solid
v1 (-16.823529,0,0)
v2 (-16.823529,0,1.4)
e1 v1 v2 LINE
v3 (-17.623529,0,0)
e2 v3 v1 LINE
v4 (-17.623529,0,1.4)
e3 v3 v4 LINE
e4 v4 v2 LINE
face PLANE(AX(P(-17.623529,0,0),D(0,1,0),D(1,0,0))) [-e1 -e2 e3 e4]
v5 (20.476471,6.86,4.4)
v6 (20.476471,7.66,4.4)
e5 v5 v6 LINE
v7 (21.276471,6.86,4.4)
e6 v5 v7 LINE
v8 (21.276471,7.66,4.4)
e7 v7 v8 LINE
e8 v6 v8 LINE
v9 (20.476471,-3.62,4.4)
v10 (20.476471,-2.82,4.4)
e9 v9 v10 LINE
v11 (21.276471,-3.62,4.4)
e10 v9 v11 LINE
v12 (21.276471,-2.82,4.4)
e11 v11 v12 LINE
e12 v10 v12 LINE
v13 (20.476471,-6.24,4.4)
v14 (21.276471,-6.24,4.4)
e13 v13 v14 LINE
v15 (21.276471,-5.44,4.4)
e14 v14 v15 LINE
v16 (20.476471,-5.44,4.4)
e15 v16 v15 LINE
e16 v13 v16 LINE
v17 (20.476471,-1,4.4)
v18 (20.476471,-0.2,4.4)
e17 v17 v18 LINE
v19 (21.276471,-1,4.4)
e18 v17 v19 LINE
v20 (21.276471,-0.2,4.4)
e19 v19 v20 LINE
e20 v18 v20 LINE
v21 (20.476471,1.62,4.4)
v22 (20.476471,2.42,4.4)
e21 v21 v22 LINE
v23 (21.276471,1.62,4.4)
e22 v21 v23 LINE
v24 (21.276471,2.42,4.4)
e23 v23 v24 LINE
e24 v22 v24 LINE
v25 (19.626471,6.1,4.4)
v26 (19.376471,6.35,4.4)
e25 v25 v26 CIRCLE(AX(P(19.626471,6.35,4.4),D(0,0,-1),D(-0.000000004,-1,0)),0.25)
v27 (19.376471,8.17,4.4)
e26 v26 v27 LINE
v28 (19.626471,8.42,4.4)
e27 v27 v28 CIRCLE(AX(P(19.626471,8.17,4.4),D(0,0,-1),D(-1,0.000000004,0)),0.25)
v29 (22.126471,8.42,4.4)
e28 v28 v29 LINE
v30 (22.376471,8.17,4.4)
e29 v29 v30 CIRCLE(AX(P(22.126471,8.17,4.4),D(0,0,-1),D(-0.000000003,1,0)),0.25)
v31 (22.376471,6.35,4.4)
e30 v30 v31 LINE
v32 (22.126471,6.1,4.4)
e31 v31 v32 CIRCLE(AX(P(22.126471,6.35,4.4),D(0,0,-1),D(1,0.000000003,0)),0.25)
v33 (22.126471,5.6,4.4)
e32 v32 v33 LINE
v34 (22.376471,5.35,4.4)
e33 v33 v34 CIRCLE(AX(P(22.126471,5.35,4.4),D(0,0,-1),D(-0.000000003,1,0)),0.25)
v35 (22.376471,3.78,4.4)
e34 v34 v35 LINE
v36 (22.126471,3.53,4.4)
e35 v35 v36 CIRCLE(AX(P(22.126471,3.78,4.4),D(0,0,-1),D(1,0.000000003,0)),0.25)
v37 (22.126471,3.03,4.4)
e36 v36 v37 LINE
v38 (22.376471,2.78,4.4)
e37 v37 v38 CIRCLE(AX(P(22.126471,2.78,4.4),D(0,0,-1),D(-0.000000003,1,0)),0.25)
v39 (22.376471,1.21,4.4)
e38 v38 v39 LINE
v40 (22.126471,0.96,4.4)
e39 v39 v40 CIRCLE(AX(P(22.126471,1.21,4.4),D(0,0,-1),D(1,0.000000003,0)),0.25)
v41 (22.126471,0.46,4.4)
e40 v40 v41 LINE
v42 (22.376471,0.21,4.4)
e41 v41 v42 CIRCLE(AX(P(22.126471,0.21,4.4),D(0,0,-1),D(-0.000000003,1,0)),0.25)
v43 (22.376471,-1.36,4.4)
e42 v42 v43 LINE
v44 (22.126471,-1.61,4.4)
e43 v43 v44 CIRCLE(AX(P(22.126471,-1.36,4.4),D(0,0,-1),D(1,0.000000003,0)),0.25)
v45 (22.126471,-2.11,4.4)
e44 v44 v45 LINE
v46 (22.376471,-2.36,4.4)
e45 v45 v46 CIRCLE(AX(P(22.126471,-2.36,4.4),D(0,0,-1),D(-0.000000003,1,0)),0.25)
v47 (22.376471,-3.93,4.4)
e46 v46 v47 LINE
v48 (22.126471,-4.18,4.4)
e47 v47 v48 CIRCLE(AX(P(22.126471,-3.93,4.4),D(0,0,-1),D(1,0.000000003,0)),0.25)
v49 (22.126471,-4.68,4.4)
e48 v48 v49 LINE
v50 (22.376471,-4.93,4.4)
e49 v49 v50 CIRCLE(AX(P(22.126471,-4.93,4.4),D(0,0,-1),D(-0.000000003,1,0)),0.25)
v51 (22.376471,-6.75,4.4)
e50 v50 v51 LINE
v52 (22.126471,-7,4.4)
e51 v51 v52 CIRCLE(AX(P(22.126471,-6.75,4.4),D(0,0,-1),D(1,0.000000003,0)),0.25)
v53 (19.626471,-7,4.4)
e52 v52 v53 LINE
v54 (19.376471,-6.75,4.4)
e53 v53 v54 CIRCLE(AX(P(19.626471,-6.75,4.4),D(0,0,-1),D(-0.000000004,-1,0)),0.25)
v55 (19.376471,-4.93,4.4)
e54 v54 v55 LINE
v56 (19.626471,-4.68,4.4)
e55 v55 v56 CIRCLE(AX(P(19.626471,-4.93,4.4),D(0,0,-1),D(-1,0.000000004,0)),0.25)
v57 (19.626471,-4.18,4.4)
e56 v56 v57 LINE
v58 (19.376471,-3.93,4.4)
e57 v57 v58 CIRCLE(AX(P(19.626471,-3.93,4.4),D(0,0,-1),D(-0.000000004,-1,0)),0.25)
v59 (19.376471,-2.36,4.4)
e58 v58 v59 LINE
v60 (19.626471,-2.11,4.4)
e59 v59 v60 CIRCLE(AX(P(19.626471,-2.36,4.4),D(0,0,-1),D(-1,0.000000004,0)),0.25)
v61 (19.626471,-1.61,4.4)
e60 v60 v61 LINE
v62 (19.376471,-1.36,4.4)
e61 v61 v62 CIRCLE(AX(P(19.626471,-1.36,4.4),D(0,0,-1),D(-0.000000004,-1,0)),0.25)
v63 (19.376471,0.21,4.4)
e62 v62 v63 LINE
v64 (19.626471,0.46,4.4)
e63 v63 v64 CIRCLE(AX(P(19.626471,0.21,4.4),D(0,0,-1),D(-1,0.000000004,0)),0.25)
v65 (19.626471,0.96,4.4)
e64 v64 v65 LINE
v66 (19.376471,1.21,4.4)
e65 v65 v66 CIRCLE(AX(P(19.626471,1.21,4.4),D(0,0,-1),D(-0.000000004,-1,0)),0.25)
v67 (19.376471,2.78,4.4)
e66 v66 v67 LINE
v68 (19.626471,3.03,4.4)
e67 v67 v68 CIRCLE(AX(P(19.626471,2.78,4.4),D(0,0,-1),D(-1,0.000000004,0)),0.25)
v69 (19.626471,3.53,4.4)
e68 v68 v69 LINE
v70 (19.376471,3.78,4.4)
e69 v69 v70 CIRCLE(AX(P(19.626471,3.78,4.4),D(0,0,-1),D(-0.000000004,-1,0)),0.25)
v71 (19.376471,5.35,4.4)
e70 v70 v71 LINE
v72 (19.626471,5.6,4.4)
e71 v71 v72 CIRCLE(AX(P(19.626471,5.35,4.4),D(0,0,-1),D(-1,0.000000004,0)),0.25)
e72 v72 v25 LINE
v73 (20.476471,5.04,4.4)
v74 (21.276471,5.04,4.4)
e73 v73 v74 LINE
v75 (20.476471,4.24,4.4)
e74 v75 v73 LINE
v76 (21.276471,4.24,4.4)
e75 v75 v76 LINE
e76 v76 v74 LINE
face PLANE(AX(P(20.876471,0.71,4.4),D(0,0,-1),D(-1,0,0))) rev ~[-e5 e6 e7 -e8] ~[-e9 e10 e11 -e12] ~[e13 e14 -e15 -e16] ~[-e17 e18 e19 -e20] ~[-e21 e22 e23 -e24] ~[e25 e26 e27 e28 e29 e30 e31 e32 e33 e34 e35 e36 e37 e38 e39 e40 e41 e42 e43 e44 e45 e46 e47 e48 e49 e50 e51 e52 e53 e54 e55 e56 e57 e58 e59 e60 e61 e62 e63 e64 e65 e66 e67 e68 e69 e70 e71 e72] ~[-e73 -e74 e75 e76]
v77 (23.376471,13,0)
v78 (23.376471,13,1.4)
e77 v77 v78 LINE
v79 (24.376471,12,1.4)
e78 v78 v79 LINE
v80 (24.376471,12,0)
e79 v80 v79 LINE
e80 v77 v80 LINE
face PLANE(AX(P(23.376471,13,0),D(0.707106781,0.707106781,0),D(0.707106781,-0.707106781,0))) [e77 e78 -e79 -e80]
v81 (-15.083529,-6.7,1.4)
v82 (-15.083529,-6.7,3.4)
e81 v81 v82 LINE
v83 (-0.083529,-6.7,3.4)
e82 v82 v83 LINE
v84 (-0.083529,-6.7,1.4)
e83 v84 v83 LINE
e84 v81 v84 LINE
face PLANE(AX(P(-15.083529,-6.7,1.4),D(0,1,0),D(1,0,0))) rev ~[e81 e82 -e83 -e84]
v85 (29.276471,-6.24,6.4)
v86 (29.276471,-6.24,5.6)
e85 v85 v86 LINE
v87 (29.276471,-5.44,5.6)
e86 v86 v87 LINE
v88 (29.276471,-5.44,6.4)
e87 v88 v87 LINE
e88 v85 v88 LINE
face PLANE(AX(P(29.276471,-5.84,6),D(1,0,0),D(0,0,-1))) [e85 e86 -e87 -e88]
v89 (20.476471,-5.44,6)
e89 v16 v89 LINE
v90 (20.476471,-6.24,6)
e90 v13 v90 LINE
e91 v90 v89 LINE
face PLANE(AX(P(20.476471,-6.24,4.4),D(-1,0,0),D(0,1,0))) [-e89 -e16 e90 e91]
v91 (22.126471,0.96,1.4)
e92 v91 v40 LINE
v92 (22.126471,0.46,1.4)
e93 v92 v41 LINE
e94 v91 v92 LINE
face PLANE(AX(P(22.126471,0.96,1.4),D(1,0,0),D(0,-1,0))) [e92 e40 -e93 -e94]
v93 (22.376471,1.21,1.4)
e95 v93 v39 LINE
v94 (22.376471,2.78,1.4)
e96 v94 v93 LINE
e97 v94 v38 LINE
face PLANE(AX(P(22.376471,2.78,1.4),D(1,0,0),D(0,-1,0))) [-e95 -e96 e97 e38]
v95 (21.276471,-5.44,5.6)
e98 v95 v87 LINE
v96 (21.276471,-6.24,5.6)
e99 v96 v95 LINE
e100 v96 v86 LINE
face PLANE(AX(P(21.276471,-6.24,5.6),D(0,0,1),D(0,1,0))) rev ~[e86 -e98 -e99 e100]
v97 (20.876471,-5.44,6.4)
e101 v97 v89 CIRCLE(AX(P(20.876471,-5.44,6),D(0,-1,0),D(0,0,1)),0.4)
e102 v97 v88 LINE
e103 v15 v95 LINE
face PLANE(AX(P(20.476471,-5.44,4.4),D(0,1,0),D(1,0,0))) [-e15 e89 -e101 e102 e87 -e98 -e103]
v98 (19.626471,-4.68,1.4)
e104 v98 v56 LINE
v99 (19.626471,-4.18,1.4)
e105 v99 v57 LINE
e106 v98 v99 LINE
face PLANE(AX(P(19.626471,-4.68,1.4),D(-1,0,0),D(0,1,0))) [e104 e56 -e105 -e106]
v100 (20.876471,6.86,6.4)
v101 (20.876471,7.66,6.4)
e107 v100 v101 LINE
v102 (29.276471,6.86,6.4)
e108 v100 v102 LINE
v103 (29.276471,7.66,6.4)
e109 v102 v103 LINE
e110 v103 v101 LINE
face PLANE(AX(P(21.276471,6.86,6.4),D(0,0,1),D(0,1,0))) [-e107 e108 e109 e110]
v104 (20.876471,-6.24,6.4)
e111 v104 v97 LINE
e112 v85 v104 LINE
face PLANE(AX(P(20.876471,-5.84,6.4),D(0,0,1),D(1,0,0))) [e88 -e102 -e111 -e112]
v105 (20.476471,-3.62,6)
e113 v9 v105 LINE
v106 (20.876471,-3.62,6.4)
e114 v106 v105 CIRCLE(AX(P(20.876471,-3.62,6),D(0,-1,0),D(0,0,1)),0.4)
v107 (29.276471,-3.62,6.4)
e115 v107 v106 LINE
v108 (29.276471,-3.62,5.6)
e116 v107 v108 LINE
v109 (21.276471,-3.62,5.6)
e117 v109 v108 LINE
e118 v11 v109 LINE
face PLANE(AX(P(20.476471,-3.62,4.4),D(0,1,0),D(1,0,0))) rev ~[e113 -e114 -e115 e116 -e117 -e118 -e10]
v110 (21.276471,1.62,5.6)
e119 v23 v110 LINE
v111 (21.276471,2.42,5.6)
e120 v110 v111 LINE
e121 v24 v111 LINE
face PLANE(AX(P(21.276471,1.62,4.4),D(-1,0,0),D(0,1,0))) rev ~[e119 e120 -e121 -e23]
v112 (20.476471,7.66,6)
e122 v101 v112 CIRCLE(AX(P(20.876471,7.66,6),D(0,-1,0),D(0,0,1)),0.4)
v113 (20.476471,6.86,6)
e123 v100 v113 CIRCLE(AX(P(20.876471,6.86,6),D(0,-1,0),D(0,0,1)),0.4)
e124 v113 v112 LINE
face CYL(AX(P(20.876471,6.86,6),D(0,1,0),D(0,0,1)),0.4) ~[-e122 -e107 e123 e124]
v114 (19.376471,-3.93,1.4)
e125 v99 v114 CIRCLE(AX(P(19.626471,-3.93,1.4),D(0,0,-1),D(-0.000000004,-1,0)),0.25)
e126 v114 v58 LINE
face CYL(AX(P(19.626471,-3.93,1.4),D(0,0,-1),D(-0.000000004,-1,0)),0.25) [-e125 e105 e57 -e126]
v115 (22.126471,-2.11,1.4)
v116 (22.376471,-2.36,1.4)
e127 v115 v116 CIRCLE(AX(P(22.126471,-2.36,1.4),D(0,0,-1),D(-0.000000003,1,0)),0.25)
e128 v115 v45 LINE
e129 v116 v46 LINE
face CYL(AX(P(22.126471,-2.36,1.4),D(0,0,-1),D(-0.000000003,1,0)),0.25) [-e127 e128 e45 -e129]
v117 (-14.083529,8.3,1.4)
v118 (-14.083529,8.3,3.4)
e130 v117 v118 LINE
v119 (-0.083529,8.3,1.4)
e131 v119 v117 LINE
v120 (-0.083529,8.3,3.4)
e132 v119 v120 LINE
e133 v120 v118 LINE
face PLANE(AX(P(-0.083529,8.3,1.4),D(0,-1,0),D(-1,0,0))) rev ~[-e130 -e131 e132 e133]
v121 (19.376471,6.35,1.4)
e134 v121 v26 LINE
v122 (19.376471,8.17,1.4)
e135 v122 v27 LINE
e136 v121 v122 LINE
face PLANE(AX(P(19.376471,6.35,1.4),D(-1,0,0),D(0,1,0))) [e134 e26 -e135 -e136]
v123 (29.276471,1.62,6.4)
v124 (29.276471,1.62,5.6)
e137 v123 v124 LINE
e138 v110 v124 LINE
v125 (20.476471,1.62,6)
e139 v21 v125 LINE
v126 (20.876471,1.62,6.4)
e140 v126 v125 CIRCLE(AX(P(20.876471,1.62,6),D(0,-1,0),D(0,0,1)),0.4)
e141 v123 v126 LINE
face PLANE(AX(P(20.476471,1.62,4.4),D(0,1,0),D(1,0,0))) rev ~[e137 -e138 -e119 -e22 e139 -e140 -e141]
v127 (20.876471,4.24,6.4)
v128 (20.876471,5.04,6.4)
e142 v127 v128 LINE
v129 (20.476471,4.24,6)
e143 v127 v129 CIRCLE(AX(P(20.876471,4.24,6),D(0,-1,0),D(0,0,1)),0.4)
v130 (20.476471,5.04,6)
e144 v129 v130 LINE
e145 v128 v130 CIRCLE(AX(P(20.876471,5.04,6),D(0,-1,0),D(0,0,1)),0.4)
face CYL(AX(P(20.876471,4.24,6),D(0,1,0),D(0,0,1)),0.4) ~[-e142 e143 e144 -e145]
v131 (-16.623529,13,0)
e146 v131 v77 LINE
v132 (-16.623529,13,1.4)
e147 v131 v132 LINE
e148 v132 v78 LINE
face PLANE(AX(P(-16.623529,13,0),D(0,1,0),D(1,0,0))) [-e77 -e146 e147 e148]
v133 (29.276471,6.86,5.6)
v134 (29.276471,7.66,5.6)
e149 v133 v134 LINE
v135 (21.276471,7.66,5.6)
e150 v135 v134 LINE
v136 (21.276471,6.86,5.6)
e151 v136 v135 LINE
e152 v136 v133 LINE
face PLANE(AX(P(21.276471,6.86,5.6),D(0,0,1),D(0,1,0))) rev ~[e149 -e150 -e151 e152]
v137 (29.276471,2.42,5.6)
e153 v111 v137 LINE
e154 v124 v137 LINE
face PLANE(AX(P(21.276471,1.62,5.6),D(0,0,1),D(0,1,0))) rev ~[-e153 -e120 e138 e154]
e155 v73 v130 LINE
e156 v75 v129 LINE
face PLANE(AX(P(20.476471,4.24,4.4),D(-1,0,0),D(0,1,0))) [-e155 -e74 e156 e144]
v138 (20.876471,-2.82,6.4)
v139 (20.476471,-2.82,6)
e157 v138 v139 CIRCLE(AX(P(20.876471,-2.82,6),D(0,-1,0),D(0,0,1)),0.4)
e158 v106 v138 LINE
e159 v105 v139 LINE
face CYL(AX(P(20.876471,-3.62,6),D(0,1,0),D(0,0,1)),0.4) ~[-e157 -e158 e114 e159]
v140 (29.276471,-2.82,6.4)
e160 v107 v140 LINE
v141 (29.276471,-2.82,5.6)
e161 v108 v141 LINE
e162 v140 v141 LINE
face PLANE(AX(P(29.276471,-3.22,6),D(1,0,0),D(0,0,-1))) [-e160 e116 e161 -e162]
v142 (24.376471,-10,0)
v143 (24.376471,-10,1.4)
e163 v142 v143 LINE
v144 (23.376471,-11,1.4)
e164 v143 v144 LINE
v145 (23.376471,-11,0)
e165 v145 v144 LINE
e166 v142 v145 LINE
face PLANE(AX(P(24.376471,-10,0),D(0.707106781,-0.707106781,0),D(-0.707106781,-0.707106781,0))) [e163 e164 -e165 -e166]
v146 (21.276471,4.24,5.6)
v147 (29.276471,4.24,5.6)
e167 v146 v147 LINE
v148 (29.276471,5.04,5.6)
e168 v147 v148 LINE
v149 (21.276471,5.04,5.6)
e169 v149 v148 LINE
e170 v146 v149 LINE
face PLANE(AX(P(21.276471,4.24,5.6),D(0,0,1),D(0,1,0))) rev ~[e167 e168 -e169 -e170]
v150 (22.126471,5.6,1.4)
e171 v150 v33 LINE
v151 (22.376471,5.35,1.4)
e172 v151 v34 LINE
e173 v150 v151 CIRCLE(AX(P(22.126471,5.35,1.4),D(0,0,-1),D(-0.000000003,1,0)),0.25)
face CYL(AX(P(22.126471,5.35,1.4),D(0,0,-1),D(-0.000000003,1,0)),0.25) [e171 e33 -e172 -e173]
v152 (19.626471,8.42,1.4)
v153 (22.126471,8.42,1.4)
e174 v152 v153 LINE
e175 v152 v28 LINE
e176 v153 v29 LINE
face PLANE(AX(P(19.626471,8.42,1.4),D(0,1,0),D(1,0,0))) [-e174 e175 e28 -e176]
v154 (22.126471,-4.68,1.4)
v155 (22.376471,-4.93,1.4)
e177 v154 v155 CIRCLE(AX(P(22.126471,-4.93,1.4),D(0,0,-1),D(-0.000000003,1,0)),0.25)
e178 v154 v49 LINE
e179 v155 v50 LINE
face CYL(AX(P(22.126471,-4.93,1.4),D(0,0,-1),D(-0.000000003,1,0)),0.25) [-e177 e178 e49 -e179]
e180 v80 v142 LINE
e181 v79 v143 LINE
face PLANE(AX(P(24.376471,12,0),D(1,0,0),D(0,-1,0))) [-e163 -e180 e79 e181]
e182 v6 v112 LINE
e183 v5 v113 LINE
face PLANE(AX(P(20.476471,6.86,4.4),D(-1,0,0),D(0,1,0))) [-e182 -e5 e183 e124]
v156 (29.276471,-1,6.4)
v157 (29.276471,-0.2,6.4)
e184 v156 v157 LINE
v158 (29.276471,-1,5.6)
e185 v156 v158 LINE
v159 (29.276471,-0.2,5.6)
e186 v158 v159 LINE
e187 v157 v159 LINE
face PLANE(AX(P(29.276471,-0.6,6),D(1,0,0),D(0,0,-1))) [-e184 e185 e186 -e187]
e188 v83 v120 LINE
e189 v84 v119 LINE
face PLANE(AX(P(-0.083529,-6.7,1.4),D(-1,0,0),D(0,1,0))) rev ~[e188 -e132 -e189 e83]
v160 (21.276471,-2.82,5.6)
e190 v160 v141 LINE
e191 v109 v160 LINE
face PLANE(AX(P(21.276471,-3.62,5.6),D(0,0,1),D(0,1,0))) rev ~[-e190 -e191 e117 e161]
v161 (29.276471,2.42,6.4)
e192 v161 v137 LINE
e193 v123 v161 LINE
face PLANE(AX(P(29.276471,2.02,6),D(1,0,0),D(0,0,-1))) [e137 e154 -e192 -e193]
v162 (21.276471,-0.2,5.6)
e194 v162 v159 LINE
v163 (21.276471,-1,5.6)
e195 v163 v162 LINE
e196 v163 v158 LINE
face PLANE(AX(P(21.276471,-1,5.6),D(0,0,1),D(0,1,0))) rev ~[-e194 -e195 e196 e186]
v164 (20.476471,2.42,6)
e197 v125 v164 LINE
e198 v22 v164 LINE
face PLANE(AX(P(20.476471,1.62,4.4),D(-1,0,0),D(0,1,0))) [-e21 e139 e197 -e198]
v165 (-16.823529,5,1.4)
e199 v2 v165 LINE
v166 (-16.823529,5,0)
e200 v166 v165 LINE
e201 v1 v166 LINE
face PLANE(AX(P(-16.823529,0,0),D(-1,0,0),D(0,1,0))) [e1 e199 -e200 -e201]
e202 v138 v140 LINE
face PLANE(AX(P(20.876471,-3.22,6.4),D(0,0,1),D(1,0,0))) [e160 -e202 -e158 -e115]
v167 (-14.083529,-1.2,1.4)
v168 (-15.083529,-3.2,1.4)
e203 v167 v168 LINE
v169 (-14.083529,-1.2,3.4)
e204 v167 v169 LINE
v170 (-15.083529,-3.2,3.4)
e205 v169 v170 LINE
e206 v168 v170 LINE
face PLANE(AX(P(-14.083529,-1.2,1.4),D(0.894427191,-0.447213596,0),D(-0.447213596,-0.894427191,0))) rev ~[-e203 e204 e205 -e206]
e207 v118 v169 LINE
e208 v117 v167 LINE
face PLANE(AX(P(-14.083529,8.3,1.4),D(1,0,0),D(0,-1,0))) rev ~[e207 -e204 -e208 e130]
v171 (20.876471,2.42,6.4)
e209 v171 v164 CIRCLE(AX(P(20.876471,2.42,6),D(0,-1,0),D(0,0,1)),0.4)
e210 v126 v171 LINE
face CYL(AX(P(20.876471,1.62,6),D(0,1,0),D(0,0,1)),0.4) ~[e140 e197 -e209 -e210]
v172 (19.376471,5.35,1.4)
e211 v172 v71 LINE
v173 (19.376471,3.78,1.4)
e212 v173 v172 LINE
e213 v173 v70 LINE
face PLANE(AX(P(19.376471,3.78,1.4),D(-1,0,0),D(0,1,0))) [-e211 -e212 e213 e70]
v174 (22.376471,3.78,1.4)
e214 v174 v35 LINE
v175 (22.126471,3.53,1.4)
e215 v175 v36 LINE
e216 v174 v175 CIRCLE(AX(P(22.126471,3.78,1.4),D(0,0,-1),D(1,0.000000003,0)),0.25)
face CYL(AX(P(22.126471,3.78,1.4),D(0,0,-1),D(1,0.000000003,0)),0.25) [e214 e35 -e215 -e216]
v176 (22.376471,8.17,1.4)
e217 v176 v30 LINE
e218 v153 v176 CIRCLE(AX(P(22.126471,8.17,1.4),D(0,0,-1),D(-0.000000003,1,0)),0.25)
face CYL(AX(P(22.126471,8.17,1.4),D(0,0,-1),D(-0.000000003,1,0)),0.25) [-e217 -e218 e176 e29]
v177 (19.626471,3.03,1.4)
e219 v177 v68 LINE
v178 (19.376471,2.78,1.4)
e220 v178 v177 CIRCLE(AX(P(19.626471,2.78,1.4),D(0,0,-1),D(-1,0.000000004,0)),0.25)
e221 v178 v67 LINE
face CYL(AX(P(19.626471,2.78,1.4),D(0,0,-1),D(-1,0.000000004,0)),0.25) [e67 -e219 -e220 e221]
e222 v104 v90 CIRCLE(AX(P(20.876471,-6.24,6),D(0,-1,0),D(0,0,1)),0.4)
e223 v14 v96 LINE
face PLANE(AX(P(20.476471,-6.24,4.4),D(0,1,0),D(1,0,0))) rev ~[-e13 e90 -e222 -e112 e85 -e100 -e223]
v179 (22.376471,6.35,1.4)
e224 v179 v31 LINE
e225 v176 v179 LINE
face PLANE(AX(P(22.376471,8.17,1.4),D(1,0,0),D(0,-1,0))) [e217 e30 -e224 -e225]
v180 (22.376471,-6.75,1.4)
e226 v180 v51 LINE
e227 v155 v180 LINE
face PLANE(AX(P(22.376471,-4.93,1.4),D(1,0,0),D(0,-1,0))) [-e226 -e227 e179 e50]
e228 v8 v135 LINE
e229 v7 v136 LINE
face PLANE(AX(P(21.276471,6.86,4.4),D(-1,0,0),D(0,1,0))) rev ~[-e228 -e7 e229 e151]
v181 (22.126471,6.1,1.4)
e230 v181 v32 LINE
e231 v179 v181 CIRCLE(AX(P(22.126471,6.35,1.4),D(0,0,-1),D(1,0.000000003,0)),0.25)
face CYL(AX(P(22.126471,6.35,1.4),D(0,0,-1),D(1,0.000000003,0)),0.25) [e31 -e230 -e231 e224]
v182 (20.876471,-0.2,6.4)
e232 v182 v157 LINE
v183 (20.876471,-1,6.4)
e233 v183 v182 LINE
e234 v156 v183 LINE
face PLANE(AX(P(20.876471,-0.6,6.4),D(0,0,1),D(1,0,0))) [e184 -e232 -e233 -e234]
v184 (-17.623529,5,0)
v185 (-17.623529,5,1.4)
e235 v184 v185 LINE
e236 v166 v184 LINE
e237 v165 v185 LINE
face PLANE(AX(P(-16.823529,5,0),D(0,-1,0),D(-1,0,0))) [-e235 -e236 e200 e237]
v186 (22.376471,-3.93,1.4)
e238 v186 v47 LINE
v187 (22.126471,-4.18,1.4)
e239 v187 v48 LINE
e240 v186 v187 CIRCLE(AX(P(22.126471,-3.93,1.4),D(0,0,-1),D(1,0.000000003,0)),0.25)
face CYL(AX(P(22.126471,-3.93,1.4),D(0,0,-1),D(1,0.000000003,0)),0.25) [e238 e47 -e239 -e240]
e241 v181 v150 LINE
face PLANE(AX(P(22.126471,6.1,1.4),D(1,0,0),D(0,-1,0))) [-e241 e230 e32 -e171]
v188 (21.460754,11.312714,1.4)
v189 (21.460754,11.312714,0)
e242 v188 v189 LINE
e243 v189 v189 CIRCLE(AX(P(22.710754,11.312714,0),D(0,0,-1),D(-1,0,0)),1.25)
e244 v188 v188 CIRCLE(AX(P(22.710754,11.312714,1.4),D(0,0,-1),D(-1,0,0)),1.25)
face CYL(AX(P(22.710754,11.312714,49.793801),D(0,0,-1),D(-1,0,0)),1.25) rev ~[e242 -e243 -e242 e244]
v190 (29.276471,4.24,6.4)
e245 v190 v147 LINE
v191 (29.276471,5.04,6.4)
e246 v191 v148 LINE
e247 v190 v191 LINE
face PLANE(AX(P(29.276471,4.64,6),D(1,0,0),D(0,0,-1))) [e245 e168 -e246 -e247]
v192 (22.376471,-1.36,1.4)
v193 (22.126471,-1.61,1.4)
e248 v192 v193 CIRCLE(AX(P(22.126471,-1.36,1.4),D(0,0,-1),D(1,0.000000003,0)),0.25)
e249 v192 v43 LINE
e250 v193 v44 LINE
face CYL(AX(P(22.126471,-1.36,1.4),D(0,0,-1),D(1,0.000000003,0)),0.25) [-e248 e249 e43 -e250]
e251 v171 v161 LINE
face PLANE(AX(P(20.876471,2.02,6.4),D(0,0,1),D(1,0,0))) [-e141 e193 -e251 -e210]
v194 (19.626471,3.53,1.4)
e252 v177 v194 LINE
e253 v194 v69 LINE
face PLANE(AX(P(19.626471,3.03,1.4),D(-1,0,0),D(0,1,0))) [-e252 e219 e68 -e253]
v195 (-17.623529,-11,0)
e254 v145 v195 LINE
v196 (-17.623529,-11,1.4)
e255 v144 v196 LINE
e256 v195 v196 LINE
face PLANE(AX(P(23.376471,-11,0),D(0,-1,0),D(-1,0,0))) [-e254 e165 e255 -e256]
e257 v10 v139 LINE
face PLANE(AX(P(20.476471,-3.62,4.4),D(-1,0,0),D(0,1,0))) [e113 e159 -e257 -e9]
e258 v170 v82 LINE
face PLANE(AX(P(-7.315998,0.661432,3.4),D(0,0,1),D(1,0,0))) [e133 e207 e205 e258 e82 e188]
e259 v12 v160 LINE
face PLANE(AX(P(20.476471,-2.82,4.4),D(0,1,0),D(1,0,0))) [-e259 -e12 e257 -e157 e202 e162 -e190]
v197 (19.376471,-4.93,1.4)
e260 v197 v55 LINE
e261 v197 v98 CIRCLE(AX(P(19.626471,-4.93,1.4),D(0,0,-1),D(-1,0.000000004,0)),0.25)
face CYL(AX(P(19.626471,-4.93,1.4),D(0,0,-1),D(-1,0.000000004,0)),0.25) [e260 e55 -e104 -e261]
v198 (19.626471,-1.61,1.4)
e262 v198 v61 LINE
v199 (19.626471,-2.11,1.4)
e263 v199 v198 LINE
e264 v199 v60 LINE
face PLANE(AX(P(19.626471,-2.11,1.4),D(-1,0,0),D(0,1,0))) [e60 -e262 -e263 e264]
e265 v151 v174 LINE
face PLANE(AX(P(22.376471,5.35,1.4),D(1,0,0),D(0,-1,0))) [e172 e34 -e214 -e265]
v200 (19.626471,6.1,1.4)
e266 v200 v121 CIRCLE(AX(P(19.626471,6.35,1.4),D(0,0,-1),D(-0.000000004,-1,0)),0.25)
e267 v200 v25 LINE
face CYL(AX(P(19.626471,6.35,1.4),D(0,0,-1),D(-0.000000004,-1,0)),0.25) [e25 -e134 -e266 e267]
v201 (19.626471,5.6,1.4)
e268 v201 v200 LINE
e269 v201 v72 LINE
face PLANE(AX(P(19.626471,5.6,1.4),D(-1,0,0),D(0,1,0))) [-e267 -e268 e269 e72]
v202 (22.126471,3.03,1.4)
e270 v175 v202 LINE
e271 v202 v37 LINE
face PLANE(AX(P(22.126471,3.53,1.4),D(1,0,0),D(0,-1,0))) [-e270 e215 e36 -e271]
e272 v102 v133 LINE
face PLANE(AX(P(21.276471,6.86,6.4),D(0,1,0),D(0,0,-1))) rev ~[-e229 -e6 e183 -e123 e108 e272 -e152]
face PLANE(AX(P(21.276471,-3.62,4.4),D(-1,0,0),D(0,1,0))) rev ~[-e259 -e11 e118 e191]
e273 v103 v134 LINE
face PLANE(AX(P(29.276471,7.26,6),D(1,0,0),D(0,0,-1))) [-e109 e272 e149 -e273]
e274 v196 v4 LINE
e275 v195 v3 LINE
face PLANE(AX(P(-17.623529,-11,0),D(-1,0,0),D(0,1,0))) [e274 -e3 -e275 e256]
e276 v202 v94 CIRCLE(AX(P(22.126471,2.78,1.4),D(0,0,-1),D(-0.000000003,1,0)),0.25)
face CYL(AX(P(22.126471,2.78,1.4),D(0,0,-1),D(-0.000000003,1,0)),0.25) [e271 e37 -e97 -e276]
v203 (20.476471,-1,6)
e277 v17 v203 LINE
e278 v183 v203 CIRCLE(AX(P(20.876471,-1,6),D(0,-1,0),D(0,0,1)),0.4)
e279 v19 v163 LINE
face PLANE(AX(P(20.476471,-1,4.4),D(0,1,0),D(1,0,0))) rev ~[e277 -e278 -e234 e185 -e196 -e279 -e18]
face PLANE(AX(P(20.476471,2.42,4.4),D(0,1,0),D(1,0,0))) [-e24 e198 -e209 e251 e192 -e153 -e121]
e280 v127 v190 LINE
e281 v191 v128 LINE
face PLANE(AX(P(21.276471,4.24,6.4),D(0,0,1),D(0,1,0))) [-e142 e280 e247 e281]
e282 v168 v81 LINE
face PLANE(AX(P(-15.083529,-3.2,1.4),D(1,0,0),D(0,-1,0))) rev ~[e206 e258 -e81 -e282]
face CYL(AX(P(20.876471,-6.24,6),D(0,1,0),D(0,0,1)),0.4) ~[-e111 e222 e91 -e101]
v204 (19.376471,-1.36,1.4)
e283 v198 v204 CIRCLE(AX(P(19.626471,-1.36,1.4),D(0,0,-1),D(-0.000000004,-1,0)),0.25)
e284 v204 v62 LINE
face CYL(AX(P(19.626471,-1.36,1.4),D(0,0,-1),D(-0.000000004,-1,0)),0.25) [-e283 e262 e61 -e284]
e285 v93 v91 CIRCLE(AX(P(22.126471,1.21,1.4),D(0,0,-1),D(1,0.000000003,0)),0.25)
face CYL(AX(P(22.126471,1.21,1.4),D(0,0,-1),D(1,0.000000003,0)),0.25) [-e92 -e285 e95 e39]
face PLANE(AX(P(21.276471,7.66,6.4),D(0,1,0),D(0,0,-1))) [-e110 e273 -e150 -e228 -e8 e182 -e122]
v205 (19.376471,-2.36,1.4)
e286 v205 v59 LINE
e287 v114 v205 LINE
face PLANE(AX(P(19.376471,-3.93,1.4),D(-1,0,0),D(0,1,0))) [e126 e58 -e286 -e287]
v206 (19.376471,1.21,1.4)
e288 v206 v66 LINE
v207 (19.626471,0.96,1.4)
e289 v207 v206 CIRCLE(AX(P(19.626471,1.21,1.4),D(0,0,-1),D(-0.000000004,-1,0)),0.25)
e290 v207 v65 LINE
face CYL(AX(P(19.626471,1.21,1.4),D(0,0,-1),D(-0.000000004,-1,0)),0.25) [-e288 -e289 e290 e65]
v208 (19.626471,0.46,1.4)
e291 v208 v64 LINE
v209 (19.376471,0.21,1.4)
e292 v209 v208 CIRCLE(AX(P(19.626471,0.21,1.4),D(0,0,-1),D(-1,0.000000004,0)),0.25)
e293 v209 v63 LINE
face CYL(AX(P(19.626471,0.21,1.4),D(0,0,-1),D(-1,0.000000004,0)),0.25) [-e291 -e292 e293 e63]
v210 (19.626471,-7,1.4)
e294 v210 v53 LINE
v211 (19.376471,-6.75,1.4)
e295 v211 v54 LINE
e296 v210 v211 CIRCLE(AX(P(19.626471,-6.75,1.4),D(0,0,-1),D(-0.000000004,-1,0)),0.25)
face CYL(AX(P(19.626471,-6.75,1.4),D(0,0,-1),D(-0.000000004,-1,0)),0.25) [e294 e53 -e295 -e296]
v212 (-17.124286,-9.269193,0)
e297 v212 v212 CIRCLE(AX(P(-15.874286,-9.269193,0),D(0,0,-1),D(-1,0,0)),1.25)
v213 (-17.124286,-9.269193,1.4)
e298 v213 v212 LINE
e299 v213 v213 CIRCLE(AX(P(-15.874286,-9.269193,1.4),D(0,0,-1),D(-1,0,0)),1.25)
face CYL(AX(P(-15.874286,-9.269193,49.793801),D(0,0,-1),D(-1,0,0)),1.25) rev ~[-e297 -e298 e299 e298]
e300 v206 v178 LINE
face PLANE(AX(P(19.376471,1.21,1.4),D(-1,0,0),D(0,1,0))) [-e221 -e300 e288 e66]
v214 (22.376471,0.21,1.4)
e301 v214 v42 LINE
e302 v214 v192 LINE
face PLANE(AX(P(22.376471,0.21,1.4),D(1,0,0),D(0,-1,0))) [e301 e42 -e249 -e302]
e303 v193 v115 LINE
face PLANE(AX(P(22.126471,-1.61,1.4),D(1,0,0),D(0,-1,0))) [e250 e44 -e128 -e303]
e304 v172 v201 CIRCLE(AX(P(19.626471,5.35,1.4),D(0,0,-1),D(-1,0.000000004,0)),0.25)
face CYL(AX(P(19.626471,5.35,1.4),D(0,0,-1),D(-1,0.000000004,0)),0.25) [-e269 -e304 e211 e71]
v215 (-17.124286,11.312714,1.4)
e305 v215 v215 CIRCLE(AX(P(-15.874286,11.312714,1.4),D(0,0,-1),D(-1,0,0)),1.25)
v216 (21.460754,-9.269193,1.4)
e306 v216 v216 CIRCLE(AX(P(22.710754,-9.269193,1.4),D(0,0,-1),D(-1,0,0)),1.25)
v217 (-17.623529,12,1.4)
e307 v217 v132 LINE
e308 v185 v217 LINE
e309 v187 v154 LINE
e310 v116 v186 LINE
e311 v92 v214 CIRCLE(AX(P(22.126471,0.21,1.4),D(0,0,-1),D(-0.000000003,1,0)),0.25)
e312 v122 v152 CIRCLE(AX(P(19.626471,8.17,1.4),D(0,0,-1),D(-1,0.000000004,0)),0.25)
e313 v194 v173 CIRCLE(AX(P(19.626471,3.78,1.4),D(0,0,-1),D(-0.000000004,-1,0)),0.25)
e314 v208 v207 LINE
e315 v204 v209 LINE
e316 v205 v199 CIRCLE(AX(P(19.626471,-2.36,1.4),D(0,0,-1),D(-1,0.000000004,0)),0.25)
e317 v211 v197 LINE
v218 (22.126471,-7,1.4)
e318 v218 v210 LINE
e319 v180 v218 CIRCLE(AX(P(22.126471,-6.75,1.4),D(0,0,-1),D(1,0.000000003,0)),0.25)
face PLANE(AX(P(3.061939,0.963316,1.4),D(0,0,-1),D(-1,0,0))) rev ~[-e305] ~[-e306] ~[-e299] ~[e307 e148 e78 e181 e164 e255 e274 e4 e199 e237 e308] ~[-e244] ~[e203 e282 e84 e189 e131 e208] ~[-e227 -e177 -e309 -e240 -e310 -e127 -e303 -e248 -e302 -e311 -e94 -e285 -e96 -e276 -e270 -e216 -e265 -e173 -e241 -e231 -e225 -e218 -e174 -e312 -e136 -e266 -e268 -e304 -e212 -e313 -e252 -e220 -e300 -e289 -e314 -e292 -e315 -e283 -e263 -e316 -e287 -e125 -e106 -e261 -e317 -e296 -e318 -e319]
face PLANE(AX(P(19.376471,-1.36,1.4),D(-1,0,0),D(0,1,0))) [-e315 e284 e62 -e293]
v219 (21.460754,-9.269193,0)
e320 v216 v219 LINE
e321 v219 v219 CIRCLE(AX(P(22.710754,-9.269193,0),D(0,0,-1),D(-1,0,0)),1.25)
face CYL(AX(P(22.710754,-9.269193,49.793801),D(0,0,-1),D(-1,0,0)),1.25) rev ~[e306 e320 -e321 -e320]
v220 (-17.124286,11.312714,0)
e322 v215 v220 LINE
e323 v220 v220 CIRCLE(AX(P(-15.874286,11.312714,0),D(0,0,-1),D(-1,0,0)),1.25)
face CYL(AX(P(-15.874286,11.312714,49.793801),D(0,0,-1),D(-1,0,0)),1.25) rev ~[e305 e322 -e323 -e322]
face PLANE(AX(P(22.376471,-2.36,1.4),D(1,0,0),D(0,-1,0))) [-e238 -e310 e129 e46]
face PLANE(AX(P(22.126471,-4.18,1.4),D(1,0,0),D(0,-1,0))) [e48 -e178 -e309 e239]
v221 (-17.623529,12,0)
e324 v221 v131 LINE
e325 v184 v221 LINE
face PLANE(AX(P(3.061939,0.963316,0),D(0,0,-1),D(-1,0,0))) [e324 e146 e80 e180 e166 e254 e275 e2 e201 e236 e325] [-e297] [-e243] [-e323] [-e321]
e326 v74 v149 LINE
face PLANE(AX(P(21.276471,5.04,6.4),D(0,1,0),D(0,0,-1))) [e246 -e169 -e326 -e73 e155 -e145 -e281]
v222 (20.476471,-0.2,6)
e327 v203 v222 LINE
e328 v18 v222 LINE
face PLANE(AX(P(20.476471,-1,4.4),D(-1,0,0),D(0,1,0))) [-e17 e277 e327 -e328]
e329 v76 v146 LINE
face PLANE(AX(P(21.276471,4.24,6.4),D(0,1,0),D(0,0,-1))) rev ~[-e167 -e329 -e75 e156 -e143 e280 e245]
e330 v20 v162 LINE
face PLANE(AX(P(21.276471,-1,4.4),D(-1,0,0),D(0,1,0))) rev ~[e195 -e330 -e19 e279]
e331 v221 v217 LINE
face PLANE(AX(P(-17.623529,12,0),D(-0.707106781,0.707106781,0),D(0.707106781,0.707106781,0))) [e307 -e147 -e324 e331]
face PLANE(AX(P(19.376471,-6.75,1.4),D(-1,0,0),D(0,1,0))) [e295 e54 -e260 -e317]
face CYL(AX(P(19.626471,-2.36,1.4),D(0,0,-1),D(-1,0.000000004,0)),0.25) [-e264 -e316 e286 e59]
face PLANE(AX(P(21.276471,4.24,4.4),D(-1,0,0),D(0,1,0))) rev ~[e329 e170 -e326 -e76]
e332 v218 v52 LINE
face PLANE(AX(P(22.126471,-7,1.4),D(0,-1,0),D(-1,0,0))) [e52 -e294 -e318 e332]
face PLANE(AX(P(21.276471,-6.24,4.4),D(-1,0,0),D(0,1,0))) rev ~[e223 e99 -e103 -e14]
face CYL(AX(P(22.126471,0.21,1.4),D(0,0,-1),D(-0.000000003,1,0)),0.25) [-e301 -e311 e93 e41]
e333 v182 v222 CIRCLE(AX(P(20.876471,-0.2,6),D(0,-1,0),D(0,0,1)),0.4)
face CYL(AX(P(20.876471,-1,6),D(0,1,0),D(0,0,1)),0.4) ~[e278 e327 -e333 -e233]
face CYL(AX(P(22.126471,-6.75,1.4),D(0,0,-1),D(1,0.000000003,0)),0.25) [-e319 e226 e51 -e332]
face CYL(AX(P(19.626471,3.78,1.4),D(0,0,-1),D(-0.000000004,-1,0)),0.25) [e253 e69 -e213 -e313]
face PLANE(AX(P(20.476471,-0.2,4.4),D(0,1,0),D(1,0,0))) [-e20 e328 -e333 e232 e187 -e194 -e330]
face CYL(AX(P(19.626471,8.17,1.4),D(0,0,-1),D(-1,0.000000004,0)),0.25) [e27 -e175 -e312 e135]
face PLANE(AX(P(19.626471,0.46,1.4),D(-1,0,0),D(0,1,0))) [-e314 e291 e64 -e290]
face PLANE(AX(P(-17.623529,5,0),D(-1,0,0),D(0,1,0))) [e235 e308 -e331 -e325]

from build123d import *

# Parameters (mm, degrees)
BOSS_EXTRUDE1_DEPTH        = 1.4
F_2_5_2_5_DIAMETER_SLOT1_D = 2.5
BOSS_EXTRUDE2_DEPTH        = 2
BOSS_EXTRUDE3_DEPTH        = 3
SKETCH8_W                  = 0.8
SKETCH8_H                  = 0.8
BOSS_EXTRUDE4_DEPTH        = 2
SKETCH9_W                  = 0.8
SKETCH9_H                  = 0.8
BOSS_EXTRUDE5_DEPTH        = 8
LPATTERN1_COUNT            = 6
LPATTERN1_PITCH            = 2.62
FILLET1_R                  = 0.4


with BuildPart() as part:
    # Sketch1 → Boss-Extrude1 (new body)
    with BuildSketch(Plane.XY):
        Polygon((-17.623529412, 12), (-16.623529412, 13), (23.376470588, 13), (24.376470588, 12), (24.376470588, -10), (23.376470588, -11), (-17.623529412, -11), (-17.623529412, 0), (-16.823529412, 0), (-16.823529412, 5), (-17.623529412, 5), align=None)
    extrude(amount=BOSS_EXTRUDE1_DEPTH)

    # Ø2.5 (2.5) Diameter Slot1 (through all)
    with Locations(Plane.XY.offset(1.4)):
        with Locations((-15.874285672, -9.269193445), (-15.874285672, 11.312714255), (22.710754066, -9.269193445), (22.710754066, 11.312714255)):
            Hole(F_2_5_2_5_DIAMETER_SLOT1_D / 2)

    # Sketch6 → Boss-Extrude2 (add)
    with BuildSketch(Plane.XY.offset(1.4)):
        Polygon((-15.083529412, -6.7), (-0.083529412, -6.7), (-0.083529412, 8.3), (-14.083529412, 8.3), (-14.083529412, -1.2), (-15.083529412, -3.2), align=None)
    extrude(amount=BOSS_EXTRUDE2_DEPTH)

    # Sketch7 → Boss-Extrude3 (add)
    with BuildSketch(Plane.XY.offset(1.4)):
        with BuildLine():
            Line((22.126470588, 6.1), (22.126470588, 5.6))
            ThreePointArc((22.126470588, 5.6), (22.303247284, 5.526776695), (22.376470588, 5.35))
            Line((22.376470588, 5.35), (22.376470588, 3.78))
            ThreePointArc((22.376470588, 3.78), (22.303247284, 3.603223305), (22.126470588, 3.53))
            Line((22.126470588, 3.53), (22.126470588, 3.03))
            ThreePointArc((22.126470588, 3.03), (22.303247284, 2.956776695), (22.376470588, 2.78))
            Line((22.376470588, 2.78), (22.376470588, 1.21))
            ThreePointArc((22.376470588, 1.21), (22.303247284, 1.033223305), (22.126470588, 0.96))
            Line((22.126470588, 0.96), (22.126470588, 0.46))
            ThreePointArc((22.126470588, 0.46), (22.303247284, 0.386776695), (22.376470588, 0.21))
            Line((22.376470588, 0.21), (22.376470588, -1.36))
            ThreePointArc((22.376470588, -1.36), (22.303247284, -1.536776695), (22.126470588, -1.61))
            Line((22.126470588, -1.61), (22.126470588, -2.11))
            ThreePointArc((22.126470588, -2.11), (22.303247284, -2.183223305), (22.376470588, -2.36))
            Line((22.376470588, -2.36), (22.376470588, -3.93))
            ThreePointArc((22.376470588, -3.93), (22.303247284, -4.106776695), (22.126470588, -4.18))
            Line((22.126470588, -4.18), (22.126470588, -4.68))
            ThreePointArc((22.126470588, -4.68), (22.303247284, -4.753223305), (22.376470588, -4.93))
            Line((22.376470588, -4.93), (22.376470588, -6.75))
            ThreePointArc((22.376470588, -6.75), (22.303247284, -6.926776695), (22.126470588, -7))
            Line((22.126470588, -7), (19.626470588, -7))
            ThreePointArc((19.626470588, -7), (19.449693893, -6.926776695), (19.376470588, -6.75))
            Line((19.376470588, -6.75), (19.376470588, -4.93))
            ThreePointArc((19.376470588, -4.93), (19.449693893, -4.753223305), (19.626470588, -4.68))
            Line((19.626470588, -4.68), (19.626470588, -4.18))
            ThreePointArc((19.626470588, -4.18), (19.449693893, -4.106776695), (19.376470588, -3.93))
            Line((19.376470588, -3.93), (19.376470588, -2.36))
            ThreePointArc((19.376470588, -2.36), (19.449693893, -2.183223305), (19.626470588, -2.11))
            Line((19.626470588, -2.11), (19.626470588, -1.61))
            ThreePointArc((19.626470588, -1.61), (19.449693893, -1.536776695), (19.376470588, -1.36))
            Line((19.376470588, -1.36), (19.376470588, 0.21))
            ThreePointArc((19.376470588, 0.21), (19.449693893, 0.386776695), (19.626470588, 0.46))
            Line((19.626470588, 0.46), (19.626470588, 0.96))
            ThreePointArc((19.626470588, 0.96), (19.449693893, 1.033223305), (19.376470588, 1.21))
            Line((19.376470588, 1.21), (19.376470588, 2.78))
            ThreePointArc((19.376470588, 2.78), (19.449693893, 2.956776695), (19.626470588, 3.03))
            Line((19.626470588, 3.03), (19.626470588, 3.53))
            ThreePointArc((19.626470588, 3.53), (19.449693893, 3.603223305), (19.376470588, 3.78))
            Line((19.376470588, 3.78), (19.376470588, 5.35))
            ThreePointArc((19.376470588, 5.35), (19.449693893, 5.526776695), (19.626470588, 5.6))
            Line((19.626470588, 5.6), (19.626470588, 6.1))
            ThreePointArc((19.626470588, 6.1), (19.449693893, 6.173223305), (19.376470588, 6.35))
            Line((19.376470588, 6.35), (19.376470588, 8.17))
            ThreePointArc((19.376470588, 8.17), (19.449693893, 8.346776695), (19.626470588, 8.42))
            Line((19.626470588, 8.42), (22.126470588, 8.42))
            ThreePointArc((22.126470588, 8.42), (22.303247284, 8.346776695), (22.376470588, 8.17))
            Line((22.376470588, 8.17), (22.376470588, 6.35))
            ThreePointArc((22.376470588, 6.35), (22.303247284, 6.173223305), (22.126470588, 6.1))
        make_face()
    extrude(amount=BOSS_EXTRUDE3_DEPTH)

    # Sketch8 → Boss-Extrude4 (add)
    with BuildSketch(Plane.XY.offset(4.4)):
        with Locations((20.876470588, -5.84)):
            Rectangle(SKETCH8_W, SKETCH8_H)
        with Locations((20.876470588, -3.22)):
            Rectangle(SKETCH8_W, SKETCH8_H)
        with Locations((20.876470588, -0.6)):
            Rectangle(SKETCH8_W, SKETCH8_H)
        with Locations((20.876470588, 2.02)):
            Rectangle(SKETCH8_W, SKETCH8_H)
        with Locations((20.876470588, 4.64)):
            Rectangle(SKETCH8_W, SKETCH8_H)
        with Locations((20.876470588, 7.26)):
            Rectangle(SKETCH8_W, SKETCH8_H)
    extrude(amount=BOSS_EXTRUDE4_DEPTH)

    # Sketch9 → Boss-Extrude5 (add)
    with BuildSketch(Plane(origin=(21.276470588, 0, 0), x_dir=(0, 0, -1), z_dir=(1, 0, 0))):
        with Locations((-6, 7.26)):
            Rectangle(SKETCH9_W, SKETCH9_H)
    boss_extrude5 = extrude(amount=BOSS_EXTRUDE5_DEPTH)

    # LPattern1: Boss-Extrude5 ×6
    with Locations(*[(0, -i * LPATTERN1_PITCH, 0) for i in range(1, LPATTERN1_COUNT)]):
        add(boss_extrude5)

    # Fillet1
    fillet1_edges = [part.edges().sort_by_distance(p)[0] for p in [
        (20.476470588, -5.84, 6.4),
        (20.476470588, -3.22, 6.4),
        (20.476470588, -0.6, 6.4),
        (20.476470588, 2.02, 6.4),
        (20.476470588, 4.64, 6.4),
        (20.476470588, 7.26, 6.4),
    ]]
    fillet(fillet1_edges, radius=FILLET1_R)


solid = part.part
